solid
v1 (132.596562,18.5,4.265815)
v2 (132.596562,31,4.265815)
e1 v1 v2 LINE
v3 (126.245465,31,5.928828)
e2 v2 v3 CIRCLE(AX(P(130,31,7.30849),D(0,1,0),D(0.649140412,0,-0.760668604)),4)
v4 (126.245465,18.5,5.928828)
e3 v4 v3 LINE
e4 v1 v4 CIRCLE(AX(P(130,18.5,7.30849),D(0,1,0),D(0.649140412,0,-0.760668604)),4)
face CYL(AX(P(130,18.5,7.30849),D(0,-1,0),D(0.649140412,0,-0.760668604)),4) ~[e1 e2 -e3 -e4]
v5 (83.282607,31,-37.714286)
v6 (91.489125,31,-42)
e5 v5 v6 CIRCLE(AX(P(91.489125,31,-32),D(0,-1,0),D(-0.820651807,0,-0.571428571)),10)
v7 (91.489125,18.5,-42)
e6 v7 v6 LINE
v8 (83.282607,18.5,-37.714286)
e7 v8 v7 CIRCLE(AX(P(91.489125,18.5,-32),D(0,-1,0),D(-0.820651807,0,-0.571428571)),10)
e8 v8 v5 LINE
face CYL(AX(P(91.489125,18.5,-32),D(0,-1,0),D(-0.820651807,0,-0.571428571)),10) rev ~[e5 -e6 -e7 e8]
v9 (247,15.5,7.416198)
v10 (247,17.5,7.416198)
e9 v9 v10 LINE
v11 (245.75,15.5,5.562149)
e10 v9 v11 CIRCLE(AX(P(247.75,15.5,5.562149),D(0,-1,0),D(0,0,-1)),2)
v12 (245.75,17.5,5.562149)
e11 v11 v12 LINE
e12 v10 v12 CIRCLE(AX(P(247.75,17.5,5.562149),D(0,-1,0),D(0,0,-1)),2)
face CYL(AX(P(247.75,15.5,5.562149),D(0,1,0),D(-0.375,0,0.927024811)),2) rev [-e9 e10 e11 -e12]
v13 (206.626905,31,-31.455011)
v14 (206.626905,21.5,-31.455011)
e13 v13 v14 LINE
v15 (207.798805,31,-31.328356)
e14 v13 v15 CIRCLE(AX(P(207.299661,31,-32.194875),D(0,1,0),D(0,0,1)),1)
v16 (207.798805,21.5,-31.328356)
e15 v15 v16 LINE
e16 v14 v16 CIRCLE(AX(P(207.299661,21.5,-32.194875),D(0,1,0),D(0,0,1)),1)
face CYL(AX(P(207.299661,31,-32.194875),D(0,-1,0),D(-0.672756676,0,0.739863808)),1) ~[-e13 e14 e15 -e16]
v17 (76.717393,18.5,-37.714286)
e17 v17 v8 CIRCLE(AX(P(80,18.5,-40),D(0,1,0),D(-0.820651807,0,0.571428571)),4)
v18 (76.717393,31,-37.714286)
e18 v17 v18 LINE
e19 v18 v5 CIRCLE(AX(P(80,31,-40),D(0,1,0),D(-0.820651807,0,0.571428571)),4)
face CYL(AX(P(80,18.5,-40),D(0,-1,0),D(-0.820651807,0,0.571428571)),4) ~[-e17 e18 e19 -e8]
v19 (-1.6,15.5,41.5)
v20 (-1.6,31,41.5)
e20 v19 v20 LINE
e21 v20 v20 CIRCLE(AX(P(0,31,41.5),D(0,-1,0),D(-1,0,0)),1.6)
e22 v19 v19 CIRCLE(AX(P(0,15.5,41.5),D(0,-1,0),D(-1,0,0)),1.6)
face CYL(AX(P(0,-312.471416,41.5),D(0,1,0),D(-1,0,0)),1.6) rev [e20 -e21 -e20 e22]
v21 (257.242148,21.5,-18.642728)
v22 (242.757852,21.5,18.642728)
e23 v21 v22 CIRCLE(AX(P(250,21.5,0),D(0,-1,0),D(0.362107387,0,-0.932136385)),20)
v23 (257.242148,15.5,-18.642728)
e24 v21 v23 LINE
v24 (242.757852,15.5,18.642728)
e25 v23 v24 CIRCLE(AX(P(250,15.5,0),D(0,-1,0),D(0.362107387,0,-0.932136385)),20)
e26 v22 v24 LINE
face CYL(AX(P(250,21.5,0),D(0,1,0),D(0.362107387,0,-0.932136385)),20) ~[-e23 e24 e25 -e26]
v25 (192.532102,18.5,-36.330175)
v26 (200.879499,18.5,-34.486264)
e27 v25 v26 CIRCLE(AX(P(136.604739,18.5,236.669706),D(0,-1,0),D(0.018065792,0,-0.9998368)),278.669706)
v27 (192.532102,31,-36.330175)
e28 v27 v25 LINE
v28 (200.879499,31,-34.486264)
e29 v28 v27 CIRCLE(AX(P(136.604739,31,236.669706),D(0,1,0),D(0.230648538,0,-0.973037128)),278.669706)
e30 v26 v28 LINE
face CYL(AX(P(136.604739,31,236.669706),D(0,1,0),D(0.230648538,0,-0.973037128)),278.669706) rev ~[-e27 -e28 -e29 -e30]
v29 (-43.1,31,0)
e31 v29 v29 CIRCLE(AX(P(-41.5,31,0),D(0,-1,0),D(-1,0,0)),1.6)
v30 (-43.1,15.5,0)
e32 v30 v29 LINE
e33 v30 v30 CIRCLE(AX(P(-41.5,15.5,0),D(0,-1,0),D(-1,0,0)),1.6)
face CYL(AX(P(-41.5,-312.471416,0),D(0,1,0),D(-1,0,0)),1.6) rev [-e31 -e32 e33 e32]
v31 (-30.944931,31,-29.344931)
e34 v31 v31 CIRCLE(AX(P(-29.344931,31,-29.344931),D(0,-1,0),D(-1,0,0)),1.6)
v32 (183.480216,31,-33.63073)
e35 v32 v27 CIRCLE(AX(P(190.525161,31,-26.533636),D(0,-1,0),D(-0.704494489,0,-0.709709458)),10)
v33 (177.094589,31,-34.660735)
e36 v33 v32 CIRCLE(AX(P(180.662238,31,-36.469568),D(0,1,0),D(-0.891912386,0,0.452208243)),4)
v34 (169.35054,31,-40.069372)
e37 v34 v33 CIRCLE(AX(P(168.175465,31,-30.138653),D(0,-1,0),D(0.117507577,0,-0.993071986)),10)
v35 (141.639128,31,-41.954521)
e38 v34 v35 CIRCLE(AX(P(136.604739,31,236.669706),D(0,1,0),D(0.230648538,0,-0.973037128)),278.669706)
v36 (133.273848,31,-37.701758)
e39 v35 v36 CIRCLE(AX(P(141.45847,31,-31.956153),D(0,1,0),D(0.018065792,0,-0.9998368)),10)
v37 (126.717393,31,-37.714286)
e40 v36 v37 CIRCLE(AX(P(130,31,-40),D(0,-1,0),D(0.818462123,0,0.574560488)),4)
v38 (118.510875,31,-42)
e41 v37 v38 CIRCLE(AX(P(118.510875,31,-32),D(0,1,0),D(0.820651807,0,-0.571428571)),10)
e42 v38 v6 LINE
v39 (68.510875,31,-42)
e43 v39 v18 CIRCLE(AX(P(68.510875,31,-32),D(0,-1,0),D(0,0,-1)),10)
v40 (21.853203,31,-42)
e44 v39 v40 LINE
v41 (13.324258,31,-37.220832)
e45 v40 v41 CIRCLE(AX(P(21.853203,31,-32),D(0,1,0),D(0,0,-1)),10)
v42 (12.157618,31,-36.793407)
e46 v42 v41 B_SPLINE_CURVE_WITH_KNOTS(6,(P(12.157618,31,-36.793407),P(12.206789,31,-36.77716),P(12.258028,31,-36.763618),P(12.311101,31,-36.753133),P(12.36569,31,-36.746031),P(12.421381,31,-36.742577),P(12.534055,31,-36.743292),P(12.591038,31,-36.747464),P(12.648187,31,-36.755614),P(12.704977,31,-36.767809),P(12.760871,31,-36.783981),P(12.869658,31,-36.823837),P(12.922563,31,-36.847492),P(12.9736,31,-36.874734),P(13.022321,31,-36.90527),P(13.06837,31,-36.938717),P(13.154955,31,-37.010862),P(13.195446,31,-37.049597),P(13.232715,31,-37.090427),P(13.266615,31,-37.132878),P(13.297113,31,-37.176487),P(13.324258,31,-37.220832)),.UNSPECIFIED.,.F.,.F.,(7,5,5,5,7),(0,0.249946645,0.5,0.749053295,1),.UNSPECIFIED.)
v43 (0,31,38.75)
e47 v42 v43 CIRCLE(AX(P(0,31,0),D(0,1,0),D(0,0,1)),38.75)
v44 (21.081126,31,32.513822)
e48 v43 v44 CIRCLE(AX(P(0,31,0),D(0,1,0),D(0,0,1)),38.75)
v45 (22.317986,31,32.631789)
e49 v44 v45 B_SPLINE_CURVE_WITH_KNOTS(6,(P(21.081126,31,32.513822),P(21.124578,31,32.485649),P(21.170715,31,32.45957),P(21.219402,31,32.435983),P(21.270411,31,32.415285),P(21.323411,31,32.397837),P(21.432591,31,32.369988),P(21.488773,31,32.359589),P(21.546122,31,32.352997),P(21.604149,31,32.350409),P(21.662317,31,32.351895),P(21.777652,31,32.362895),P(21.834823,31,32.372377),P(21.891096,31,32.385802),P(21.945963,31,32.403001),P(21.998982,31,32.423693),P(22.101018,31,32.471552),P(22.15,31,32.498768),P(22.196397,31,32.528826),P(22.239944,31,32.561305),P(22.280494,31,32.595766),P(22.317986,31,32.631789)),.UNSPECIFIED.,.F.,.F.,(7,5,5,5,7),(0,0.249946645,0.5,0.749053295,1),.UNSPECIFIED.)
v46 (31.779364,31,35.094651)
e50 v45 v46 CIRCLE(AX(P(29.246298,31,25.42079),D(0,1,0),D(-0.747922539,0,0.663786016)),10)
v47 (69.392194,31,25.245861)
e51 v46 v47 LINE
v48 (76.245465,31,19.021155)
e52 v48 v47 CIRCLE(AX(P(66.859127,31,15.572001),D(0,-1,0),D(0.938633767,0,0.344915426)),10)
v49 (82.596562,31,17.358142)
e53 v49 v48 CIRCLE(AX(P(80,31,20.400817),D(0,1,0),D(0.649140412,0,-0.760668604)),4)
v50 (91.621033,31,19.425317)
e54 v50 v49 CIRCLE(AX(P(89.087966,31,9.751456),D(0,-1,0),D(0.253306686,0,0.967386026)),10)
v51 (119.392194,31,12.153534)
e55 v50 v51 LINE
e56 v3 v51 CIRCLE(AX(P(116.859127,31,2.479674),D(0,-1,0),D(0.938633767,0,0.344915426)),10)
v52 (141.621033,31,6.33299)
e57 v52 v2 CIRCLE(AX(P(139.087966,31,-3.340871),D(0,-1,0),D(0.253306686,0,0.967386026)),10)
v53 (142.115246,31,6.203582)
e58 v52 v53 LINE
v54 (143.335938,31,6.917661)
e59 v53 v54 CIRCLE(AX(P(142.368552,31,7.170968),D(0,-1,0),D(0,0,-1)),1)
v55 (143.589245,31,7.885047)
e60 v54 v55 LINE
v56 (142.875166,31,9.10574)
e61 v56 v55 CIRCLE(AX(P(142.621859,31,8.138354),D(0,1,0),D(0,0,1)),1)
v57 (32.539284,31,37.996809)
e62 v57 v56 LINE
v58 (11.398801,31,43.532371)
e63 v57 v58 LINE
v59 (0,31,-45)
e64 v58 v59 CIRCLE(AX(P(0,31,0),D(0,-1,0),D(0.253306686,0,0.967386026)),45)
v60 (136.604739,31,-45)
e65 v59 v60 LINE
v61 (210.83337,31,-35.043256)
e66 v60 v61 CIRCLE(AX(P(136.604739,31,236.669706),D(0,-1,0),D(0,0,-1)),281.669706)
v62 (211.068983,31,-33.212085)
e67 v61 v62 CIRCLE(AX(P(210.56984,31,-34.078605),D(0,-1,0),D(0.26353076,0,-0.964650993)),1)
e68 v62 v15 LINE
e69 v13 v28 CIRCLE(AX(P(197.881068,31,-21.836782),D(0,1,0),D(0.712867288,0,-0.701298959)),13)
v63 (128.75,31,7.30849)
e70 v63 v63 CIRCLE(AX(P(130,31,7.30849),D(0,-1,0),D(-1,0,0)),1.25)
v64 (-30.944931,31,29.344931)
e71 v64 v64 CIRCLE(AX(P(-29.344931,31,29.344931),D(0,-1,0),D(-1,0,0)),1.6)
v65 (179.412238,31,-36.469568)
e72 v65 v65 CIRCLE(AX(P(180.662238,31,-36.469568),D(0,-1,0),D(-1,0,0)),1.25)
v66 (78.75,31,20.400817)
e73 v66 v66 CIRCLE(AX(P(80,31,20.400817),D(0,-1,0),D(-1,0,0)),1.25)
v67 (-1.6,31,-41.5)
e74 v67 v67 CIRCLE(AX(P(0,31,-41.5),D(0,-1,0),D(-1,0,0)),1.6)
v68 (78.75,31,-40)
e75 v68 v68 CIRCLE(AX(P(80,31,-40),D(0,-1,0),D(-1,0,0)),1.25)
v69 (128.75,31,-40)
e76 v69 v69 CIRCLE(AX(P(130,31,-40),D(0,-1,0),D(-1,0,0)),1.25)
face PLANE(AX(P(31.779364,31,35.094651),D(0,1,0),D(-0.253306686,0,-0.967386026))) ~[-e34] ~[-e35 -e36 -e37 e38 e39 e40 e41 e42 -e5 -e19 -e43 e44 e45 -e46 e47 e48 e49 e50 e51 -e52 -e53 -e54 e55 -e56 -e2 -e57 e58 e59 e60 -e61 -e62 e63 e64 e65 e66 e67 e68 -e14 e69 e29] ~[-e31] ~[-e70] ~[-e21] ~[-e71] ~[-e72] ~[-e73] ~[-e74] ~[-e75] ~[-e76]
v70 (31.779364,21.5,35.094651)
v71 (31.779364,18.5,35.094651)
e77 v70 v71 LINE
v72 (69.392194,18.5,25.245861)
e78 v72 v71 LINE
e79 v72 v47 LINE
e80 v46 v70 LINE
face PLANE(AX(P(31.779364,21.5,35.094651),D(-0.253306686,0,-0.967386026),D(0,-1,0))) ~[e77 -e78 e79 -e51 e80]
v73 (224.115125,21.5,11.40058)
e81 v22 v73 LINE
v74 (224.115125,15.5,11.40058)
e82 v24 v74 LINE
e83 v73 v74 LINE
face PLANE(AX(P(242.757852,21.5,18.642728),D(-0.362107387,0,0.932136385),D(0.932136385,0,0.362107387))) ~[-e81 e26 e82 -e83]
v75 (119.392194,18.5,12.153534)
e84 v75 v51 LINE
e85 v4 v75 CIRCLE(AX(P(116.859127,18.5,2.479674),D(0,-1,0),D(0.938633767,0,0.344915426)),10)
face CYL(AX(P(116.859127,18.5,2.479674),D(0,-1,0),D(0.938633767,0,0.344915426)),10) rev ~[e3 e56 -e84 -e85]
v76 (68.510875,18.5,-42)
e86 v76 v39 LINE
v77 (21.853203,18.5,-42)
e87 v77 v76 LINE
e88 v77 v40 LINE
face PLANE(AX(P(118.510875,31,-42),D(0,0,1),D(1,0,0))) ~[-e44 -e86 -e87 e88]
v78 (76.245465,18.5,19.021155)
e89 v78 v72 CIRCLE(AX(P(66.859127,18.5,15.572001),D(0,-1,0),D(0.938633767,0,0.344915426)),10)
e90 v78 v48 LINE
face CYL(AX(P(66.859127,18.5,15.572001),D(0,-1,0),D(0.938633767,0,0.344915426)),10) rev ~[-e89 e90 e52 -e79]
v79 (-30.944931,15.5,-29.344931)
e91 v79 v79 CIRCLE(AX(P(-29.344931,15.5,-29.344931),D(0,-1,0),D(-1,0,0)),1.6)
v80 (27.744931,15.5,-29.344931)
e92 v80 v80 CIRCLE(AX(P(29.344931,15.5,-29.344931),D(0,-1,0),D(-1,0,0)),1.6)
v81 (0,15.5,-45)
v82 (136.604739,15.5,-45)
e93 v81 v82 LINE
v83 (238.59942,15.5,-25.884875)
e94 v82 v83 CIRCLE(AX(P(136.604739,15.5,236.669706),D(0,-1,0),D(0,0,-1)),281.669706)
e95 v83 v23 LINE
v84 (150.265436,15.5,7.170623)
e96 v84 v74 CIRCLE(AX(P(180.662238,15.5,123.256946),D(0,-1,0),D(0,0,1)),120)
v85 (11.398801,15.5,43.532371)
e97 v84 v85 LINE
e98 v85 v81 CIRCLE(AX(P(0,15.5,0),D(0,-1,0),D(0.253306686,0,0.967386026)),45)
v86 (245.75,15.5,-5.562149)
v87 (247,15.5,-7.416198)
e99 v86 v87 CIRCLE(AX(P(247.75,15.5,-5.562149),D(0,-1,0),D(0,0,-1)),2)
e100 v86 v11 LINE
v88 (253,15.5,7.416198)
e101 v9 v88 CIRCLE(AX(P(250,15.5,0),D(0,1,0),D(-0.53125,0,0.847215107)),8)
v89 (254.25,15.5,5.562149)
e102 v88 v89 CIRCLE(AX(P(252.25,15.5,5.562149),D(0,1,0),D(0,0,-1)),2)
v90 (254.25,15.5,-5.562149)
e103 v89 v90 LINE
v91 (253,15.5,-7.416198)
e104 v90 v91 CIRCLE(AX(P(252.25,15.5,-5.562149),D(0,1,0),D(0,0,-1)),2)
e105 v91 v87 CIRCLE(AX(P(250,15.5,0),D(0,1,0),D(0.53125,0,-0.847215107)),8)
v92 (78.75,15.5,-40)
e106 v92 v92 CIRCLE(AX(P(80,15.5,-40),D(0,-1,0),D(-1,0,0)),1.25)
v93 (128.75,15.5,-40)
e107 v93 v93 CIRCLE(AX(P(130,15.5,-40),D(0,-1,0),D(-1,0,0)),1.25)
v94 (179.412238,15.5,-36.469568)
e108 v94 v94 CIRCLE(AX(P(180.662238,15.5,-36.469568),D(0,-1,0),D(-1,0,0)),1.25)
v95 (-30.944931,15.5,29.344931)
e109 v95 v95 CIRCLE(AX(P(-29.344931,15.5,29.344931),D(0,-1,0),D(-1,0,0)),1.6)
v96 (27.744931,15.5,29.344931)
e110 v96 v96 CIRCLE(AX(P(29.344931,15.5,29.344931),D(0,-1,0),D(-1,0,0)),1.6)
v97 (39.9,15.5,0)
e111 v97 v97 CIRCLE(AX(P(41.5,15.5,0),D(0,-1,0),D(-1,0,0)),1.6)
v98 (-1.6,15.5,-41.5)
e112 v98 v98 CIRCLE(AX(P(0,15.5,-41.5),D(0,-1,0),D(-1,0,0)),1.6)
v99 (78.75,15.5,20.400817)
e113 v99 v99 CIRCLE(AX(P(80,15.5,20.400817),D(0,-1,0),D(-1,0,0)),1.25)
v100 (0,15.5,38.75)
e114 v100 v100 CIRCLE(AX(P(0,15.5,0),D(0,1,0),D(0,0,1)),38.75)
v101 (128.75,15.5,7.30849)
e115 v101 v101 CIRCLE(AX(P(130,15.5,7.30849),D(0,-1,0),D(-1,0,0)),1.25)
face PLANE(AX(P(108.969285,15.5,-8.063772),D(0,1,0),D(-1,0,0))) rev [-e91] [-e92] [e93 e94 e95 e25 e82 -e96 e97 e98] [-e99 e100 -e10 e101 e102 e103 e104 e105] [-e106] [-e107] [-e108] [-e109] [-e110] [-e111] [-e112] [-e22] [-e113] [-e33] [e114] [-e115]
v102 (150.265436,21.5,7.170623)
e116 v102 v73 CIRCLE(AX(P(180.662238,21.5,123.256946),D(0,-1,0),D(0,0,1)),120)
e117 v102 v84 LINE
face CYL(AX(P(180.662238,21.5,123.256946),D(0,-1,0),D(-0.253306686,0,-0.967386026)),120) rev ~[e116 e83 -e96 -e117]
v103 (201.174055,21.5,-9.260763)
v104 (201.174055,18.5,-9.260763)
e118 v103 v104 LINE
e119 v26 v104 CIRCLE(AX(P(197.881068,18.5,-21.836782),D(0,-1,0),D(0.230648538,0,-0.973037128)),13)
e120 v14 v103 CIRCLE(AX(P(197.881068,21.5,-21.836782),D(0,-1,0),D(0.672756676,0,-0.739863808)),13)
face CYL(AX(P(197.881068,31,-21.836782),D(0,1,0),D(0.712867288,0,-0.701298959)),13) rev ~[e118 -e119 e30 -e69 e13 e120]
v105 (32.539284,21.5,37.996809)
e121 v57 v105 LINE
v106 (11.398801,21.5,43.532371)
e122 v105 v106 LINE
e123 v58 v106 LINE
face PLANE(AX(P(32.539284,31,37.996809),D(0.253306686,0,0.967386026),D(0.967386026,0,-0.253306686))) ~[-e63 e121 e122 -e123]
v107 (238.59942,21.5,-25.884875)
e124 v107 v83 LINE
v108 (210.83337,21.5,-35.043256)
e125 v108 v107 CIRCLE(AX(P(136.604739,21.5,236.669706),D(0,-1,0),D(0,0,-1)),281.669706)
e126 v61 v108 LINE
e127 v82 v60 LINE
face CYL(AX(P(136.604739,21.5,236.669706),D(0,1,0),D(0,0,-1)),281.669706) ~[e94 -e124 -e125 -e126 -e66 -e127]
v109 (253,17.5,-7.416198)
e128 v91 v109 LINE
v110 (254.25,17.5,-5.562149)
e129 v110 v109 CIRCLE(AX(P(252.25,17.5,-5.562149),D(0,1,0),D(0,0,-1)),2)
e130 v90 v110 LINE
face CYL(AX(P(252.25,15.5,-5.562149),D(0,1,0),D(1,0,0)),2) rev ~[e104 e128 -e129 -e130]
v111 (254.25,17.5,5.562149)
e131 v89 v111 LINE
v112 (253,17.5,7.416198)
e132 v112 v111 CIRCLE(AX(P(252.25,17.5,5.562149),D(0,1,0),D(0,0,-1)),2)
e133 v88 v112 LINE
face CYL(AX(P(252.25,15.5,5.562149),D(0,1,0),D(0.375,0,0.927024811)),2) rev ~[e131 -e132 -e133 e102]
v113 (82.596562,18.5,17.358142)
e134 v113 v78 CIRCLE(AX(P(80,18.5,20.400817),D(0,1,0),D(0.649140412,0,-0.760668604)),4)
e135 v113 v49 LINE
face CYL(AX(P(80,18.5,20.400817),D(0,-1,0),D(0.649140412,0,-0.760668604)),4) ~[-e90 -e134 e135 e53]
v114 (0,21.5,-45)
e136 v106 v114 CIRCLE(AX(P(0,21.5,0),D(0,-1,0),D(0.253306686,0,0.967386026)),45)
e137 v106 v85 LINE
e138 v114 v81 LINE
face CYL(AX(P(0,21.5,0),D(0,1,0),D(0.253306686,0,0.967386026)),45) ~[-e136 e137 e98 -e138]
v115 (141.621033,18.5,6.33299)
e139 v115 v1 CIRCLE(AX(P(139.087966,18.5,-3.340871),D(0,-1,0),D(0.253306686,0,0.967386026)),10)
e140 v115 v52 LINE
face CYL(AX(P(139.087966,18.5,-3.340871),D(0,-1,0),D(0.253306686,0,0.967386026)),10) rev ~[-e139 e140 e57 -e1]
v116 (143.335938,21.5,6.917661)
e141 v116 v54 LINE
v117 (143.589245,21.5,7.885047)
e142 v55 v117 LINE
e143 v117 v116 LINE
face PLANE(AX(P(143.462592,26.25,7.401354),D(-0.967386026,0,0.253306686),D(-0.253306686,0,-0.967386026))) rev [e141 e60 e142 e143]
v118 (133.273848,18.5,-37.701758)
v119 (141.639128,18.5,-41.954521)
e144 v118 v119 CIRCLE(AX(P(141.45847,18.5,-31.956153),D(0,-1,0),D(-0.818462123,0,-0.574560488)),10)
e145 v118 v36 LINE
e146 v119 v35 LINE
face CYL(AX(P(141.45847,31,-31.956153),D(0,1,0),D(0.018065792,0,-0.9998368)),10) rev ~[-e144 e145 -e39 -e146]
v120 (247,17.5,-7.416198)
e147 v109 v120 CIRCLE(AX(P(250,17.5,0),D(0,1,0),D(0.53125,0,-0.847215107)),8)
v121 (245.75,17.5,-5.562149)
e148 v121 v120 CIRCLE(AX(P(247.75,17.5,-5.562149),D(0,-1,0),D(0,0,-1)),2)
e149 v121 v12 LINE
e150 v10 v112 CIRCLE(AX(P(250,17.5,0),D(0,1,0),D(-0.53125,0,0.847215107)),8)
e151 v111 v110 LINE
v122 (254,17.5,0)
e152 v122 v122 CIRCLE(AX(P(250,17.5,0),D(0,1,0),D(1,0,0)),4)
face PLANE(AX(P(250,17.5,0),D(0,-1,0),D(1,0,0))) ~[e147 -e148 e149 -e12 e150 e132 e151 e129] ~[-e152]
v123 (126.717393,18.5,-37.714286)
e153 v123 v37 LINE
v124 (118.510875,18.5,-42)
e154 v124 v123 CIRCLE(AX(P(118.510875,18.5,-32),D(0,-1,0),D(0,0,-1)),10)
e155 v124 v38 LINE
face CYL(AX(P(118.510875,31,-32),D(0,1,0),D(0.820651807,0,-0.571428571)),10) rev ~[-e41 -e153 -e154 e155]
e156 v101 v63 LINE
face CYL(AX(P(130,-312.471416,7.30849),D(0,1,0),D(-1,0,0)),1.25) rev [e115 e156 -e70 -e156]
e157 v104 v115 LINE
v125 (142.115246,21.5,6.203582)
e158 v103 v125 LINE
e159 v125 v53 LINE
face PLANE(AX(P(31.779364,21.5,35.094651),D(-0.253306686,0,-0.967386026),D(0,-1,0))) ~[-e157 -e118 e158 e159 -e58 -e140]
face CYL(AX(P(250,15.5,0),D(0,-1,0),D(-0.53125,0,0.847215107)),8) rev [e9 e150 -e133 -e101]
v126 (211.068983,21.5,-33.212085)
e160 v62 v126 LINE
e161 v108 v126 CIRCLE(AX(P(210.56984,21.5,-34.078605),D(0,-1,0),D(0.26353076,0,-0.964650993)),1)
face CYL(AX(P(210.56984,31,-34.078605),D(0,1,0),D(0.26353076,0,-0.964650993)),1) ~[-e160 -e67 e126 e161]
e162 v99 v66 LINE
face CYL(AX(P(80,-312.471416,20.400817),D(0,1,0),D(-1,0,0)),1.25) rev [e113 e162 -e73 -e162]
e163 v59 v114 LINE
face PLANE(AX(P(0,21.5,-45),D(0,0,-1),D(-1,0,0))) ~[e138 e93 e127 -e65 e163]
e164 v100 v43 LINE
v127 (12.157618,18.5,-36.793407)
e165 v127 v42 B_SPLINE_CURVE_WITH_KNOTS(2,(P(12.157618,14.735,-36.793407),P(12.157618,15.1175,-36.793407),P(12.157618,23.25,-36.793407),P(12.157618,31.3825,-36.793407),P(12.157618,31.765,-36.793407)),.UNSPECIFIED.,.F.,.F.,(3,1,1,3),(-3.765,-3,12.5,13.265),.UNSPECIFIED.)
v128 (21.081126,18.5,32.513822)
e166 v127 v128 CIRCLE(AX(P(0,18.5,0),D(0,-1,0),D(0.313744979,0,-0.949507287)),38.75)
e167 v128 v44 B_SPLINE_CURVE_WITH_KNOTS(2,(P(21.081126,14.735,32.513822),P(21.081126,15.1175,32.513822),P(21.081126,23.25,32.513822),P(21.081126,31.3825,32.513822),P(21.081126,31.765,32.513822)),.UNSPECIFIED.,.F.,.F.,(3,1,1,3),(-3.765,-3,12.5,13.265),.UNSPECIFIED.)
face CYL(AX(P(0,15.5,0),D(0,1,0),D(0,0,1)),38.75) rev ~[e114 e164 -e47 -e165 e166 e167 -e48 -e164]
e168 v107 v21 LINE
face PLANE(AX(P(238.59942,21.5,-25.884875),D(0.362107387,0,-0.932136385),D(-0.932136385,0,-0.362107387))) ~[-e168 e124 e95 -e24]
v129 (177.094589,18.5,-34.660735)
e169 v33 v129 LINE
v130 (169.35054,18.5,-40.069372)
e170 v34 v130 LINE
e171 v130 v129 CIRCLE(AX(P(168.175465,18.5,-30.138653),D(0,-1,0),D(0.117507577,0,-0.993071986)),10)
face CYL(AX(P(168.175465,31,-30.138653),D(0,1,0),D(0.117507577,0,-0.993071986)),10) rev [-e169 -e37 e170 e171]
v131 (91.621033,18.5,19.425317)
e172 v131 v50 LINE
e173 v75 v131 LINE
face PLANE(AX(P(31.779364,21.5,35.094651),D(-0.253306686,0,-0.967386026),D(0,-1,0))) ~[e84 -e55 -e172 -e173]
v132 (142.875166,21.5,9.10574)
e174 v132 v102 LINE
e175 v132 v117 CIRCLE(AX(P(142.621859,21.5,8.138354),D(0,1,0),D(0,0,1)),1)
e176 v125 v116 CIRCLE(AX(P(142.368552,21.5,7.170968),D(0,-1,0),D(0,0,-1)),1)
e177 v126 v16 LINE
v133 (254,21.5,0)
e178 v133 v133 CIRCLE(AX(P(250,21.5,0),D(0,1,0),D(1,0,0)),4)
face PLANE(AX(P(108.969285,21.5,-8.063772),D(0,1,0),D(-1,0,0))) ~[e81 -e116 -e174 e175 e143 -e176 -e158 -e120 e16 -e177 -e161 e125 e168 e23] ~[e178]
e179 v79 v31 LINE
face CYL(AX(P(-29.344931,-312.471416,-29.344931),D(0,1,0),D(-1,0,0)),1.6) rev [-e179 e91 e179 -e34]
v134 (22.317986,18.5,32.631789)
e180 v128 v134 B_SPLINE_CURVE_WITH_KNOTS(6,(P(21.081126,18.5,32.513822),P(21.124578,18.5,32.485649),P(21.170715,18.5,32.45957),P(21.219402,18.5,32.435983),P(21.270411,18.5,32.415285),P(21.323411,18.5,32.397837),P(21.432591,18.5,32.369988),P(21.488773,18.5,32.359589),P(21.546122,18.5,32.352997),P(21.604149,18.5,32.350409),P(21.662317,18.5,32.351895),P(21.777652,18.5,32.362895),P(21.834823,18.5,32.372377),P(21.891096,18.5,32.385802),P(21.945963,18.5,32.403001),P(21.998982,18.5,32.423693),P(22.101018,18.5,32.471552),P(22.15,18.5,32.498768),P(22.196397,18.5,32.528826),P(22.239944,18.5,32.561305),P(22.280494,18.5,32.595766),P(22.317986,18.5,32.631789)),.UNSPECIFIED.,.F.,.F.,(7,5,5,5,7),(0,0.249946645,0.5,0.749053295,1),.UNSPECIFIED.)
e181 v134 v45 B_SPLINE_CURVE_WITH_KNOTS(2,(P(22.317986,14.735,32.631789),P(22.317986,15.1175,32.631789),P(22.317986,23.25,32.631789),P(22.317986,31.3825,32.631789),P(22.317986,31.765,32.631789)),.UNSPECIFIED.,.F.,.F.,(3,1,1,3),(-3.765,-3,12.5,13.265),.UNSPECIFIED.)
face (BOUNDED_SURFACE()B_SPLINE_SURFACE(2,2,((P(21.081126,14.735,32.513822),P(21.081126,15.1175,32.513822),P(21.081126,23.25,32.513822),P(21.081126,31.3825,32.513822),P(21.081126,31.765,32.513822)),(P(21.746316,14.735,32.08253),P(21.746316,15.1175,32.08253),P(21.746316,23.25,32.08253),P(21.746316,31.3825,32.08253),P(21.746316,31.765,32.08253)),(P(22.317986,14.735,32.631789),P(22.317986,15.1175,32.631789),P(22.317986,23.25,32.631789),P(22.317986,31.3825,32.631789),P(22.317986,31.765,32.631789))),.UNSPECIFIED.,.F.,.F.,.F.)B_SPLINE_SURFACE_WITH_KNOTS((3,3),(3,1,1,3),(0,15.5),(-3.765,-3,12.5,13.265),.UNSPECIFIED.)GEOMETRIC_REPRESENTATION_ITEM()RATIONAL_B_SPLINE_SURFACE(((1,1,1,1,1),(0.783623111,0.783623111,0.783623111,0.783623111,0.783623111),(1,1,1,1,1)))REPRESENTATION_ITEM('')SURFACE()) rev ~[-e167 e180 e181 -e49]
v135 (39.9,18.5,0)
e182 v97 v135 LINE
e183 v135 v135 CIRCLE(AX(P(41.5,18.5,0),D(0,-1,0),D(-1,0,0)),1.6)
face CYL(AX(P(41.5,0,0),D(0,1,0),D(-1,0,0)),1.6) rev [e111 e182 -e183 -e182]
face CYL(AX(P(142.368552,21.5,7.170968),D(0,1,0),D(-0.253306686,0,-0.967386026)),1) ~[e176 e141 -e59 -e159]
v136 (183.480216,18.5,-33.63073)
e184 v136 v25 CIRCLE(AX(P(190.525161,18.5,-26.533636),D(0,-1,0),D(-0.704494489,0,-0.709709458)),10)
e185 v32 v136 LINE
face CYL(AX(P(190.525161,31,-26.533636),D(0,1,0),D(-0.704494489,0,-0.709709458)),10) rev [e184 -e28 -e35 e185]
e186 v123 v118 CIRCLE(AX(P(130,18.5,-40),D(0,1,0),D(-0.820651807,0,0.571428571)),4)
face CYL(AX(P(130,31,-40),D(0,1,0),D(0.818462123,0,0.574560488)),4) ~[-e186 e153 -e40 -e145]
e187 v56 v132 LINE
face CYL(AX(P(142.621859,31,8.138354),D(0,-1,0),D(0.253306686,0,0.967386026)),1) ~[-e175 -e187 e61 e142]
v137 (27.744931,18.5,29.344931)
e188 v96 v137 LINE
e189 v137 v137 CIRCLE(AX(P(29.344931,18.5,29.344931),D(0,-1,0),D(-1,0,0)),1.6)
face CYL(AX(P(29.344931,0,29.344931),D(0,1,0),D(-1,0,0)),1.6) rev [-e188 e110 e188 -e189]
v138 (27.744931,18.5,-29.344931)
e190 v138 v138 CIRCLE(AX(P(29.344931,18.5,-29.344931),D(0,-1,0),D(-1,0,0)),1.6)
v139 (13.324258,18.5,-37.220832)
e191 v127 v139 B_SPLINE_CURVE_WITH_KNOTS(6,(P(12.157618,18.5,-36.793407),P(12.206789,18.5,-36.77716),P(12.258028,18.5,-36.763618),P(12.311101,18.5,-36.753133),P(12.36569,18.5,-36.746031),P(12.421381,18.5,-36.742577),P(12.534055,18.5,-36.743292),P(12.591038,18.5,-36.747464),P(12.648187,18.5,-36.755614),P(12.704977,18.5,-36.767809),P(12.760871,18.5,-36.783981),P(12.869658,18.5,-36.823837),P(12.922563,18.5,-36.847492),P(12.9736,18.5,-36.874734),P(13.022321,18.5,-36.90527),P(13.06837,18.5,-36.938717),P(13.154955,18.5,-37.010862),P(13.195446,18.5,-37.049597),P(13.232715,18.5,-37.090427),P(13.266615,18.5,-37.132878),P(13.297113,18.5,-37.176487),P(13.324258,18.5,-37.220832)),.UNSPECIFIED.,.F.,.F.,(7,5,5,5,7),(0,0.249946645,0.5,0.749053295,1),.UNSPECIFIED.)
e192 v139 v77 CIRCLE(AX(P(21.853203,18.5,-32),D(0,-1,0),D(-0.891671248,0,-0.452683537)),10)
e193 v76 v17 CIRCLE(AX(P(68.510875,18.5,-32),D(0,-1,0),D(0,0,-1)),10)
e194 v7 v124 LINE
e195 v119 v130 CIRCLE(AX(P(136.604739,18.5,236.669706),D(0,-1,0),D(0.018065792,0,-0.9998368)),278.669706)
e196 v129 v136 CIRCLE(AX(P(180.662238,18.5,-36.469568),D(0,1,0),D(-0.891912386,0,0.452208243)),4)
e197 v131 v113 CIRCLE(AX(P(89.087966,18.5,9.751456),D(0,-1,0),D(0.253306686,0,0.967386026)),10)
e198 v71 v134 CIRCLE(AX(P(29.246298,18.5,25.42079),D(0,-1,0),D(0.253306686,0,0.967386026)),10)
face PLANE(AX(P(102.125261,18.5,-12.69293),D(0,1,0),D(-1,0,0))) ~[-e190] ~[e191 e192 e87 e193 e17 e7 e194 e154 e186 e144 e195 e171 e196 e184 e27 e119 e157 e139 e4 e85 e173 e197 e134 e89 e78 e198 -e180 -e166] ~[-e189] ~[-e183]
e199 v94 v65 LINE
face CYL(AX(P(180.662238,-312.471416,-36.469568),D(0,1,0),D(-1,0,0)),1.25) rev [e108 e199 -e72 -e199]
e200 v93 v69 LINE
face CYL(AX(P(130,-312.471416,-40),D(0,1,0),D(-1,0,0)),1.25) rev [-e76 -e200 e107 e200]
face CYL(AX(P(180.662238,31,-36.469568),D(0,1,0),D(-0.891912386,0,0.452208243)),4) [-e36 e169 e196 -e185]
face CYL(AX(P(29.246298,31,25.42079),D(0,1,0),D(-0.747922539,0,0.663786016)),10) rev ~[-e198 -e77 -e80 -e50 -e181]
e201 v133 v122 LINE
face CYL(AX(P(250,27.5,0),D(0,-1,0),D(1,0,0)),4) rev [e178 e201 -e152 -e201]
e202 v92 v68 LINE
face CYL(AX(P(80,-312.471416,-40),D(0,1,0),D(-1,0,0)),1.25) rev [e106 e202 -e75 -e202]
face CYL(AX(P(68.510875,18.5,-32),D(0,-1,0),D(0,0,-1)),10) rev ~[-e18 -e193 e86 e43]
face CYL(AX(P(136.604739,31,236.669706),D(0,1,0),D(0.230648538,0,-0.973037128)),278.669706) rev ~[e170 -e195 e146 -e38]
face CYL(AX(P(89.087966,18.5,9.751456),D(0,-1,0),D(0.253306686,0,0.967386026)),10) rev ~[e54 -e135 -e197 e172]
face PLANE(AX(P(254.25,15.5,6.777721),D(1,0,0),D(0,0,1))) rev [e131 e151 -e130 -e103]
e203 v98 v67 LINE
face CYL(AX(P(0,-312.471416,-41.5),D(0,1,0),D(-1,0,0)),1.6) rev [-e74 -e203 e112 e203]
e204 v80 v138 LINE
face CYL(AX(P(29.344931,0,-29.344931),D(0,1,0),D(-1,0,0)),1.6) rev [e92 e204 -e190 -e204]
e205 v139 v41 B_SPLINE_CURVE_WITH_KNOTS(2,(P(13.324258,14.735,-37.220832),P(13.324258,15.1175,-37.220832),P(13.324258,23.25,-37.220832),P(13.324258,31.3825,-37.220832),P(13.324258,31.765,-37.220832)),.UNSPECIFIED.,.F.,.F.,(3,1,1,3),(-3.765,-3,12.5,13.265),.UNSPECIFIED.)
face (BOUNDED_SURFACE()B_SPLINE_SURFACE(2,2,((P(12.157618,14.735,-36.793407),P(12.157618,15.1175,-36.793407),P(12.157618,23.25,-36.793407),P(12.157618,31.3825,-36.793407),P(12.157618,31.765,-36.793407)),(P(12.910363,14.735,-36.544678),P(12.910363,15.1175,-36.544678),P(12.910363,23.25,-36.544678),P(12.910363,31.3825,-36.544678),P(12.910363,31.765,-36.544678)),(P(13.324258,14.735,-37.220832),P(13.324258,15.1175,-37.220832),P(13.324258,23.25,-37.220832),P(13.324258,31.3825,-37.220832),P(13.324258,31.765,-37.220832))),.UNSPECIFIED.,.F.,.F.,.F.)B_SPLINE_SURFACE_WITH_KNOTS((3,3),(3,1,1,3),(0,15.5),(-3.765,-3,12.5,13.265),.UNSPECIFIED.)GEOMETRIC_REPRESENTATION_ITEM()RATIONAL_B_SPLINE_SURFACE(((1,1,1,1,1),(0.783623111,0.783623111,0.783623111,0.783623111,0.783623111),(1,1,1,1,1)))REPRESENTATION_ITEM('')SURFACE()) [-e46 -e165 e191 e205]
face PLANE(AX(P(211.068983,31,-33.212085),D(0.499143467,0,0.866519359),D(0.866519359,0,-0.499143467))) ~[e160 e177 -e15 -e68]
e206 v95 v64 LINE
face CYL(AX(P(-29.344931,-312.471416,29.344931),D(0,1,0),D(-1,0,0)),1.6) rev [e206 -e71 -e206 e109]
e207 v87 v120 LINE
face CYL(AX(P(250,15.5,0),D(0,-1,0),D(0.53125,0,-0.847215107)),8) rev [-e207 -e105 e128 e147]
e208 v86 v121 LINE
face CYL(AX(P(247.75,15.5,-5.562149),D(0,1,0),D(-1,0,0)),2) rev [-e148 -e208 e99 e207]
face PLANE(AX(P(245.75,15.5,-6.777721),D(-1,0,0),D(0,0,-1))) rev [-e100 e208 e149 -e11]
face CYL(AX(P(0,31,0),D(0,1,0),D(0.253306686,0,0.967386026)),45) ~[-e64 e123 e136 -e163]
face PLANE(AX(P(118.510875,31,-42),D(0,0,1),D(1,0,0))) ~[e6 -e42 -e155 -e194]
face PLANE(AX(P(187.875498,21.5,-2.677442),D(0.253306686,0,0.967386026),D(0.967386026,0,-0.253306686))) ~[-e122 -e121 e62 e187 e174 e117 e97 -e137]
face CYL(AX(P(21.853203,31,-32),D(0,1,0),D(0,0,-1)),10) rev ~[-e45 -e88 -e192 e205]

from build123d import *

# Parameters (mm, degrees)
EXTRUDE_1_DEPTH             = 9.500000000000002
EXTRUDE_2_DEPTH             = 115.05569061587602
EXTRUDE_3_DEPTH             = 5.999999999999999
CUT_EXTRUDE_1_DEPTH         = 3.000000000000001
EXTRUDE_4_DEPTH             = 12.5
EXTRUDE_5_DEPTH             = 12.5
EXTRUDE_START               = 12.5
EXTRUDE_6_DEPTH             = 12.5
EXTRUDE_7_DEPTH             = 12.5
CUT_EXTRUDE_2_DEPTH         = 2
HOLE_WIZARD_8_0_8_1_D       = 8
HOLE_WIZARD_8_0_8_1_DEPTH   = 6
HOLE_WIZARD_2_5_2_5_1_D     = 2.5
HOLE_WIZARD_3_2_3_2_1_D     = 3.2
HOLE_WIZARD_3_2_3_2_1_DEPTH = 15.5
HOLE_WIZARD_3_2_3_2_2_D     = 3.2
FILLET_1_R                  = 1
FILLET_2_R                  = 2
FILLET_3_R                  = 120.00000000000003


with BuildPart() as part:
    # Эскиз1 → Бобышка-Вытянуть1 (new body)
    with BuildSketch(Plane.XZ):
        with BuildLine():
            Line((31.779364408196322, 35.09465055833703), (32.53928446481828, 37.996808635931096))
            Line((32.53928446481828, 37.996808635931096), (11.398800849455474, 43.53237116439277))
            ThreePointArc((11.398800849455474, 43.53237116439277), (-44.6315846816897, 5.746446623885336), (0, -45))
            Line((0, -45), (136.6047385645944, -45))
            ThreePointArc((136.6047385645944, -45), (174.0514558866368, -42.49971682694584), (210.833370462018, -35.04325558103525))
            ThreePointArc((210.833370462018, -35.04325558103525), (211.56166337980483, -34.20622038377409), (211.068983168903, -33.2120852293116))
            Line((211.068983168903, -33.2120852293116), (207.14834257891937, -30.95366812818016))
            ThreePointArc((207.14834257891937, -30.95366812818016), (204.26320644859996, -33.162341546064276), (200.87949883001698, -34.4862643192222))
            ThreePointArc((200.87949883001698, -34.4862643192222), (171.45991408687433, -39.811616665453215), (141.6391276395998, -41.95452117487615))
            ThreePointArc((141.6391276395998, -41.95452117487615), (136.9266537788762, -40.870335373727656), (133.2738484900434, -37.7017580492345))
            ThreePointArc((133.2738484900434, -37.7017580492345), (129.99235706441334, -36.0000073018108), (126.71739277340599, -37.7142857142829))
            ThreePointArc((126.71739277340599, -37.7142857142829), (123.13997520578543, -40.86405260427835), (118.5108747069212, -42))
            Line((118.5108747069212, -42), (21.853203426500148, -42))
            ThreePointArc((21.853203426500148, -42), (16.621968089397427, -40.52256867662841), (12.936490941687484, -36.52683536956956))
            ThreePointArc((12.936490941687484, -36.52683536956956), (38.432753475903155, -4.948329037205795), (21.767072161661147, 32.05865046300353))
            ThreePointArc((21.767072161661147, 32.05865046300353), (26.34449721336863, 34.99051102645374), (31.779364408196322, 35.09465055833703))
        make_face()
    extrude(amount=-EXTRUDE_1_DEPTH)

    # Эскиз2 → Бобышка-Вытянуть2 (add)
    with BuildSketch(Plane(origin=(21.140483615362722, 0, -5.535562528461676), x_dir=(-0.2533066855420127, 0, -0.967386025875772), z_dir=(0.9673860258757722, 0, -0.2533066855420127))):
        Polygon((-42.00000000000173, 0), (-45.000000000001705, -8.7e-16), (-45.000000000001705, 9.5), (-42.00000000000173, 9.5), align=None)
    extrude(amount=EXTRUDE_2_DEPTH)

    # Эскиз3 → Бобышка-Вытянуть3 (add)
    with BuildSketch(Plane(origin=(0, 9.500000000000002, 0), x_dir=(-1, 0, 0), z_dir=(0, 1, 0))):
        with BuildLine():
            Line((0, -45), (-136.6047385645944, -45))
            ThreePointArc((-136.6047385645944, -45), (-188.48995572376379, -40.179977983128), (-238.599420052963, -25.88487544631455))
            Line((-238.599420052963, -25.88487544631455), (-257.242147749639, -18.6427276966758))
            ThreePointArc((-257.242147749639, -18.6427276966758), (-268.6427276966758, 7.242147749639007), (-242.757852250361, 18.6427276966758))
            Line((-242.757852250361, 18.6427276966758), (-187.87549846851005, -2.677441830178293))
            Line((-187.87549846851005, -2.677441830178293), (-11.398800849390101, 43.53237116440985))
            ThreePointArc((-11.398800849390101, 43.53237116440985), (44.63158468169398, 5.74644662385182), (0, -45))
        make_face()
    extrude(amount=EXTRUDE_3_DEPTH)

    # Эскиз4 → Вырез-Вытянуть1 (cut)
    with BuildSketch(Plane.XZ.offset(-9.500000000000002)):
        with BuildLine():
            Line((201.174054751897, -9.26076332158908), (31.779364408181, 35.094650558340646))
            ThreePointArc((31.779364408181, 35.094650558340646), (26.344497213361088, 34.99051102645149), (21.767072161661147, 32.05865046300353))
            ThreePointArc((21.767072161661147, 32.05865046300353), (38.432753475903155, -4.9483290372057915), (12.936490941687483, -36.526835369569554))
            ThreePointArc((12.936490941687483, -36.526835369569554), (16.621968089397427, -40.52256867662841), (21.853203426500148, -42))
            Line((21.853203426500148, -42), (118.5108747069212, -42))
            ThreePointArc((118.5108747069212, -42), (123.13997520578546, -40.8640526042784), (126.71739277340599, -37.7142857142829))
            ThreePointArc((126.71739277340599, -37.7142857142829), (129.99235706441334, -36.00000730181071), (133.2738484900434, -37.7017580492345))
            ThreePointArc((133.2738484900434, -37.7017580492345), (136.92665377887585, -40.870335373728324), (141.6391276395998, -41.95452117487615))
            ThreePointArc((141.6391276395998, -41.95452117487615), (171.4599140868743, -39.8116166654531), (200.87949883001698, -34.4862643192222))
            ThreePointArc((200.87949883001698, -34.4862643192222), (210.88018165389494, -21.98857114883415), (201.174054751897, -9.26076332158908))
        make_face()
    extrude(amount=-CUT_EXTRUDE_1_DEPTH, mode=Mode.SUBTRACT)

    # Эскиз5 → Бобышка-Вытянуть4 (add)
    with BuildSketch(Plane.XZ.offset(-12.500000000000002)):
        with BuildLine():
            Line((69.39219411302629, 25.245861169673617), (91.62103262914168, 19.425316674141865))
            ThreePointArc((91.62103262914168, 19.425316674141865), (86.85516242440718, 19.49899914179931), (82.59656164963481, 17.358142454506996))
            ThreePointArc((82.59656164963481, 17.358142454506996), (78.98677325783201, 16.531272766653025), (76.24546493074466, 19.02115516751604))
            ThreePointArc((76.24546493074466, 19.02115516751604), (73.58257817824061, 22.974379428515537), (69.39219411302629, 25.245861169673617))
        make_face()
    extrude(amount=EXTRUDE_4_DEPTH)

    # Эскиз6 → Бобышка-Вытянуть5 (add)
    with BuildSketch(Plane.XZ.offset(-12.500000000000002)):
        with BuildLine():
            Line((119.39219411302322, 12.153534075498996), (141.6210326291386, 6.332989579967239))
            ThreePointArc((141.6210326291386, 6.332989579967239), (136.8551624244041, 6.406672047624693), (132.59656164963178, 4.26581536033236))
            ThreePointArc((132.59656164963178, 4.26581536033236), (128.986773257829, 3.438945672478428), (126.24546493074165, 5.928828073341451))
            ThreePointArc((126.24546493074165, 5.928828073341451), (123.58257817823758, 9.882052334340969), (119.39219411302322, 12.153534075498996))
        make_face()
    extrude(amount=EXTRUDE_5_DEPTH)

    # Эскиз7 → Бобышка-Вытянуть6 (add)
    with BuildSketch(Plane.XZ.offset(-12.500000000000002).offset(EXTRUDE_START)):
        with BuildLine():
            ThreePointArc((169.350540410565, -40.06937238400199), (173.90141926099287, -38.33703307937142), (177.09458850993005, -34.660734951460455))
            ThreePointArc((177.09458850993005, -34.660734951460455), (180.02526915777943, -32.52060975329769), (183.4802160115175, -33.63073008971875))
            ThreePointArc((183.4802160115175, -33.63073008971875), (187.66734322037206, -36.11658276325075), (192.5321018049815, -36.33017511120823))
            ThreePointArc((192.5321018049815, -36.33017511120823), (180.98072250488946, -38.44404700724877), (169.350540410565, -40.06937238400199))
        make_face()
    extrude(amount=-EXTRUDE_6_DEPTH)

    # Эскиз8 → Бобышка-Вытянуть7 (add)
    with BuildSketch(Plane.XZ.offset(-12.500000000000002)):
        with BuildLine():
            Line((91.489125293076, -42), (68.510874706924, -42))
            ThreePointArc((68.510874706924, -42), (73.13997520578674, -40.86405260427919), (76.71739277340684, -37.714285714285715))
            ThreePointArc((76.71739277340684, -37.714285714285715), (80.00000000000003, -36), (83.2826072265932, -37.714285714285765))
            ThreePointArc((83.2826072265932, -37.714285714285765), (86.86002479421332, -40.86405260427916), (91.489125293076, -42))
        make_face()
    extrude(amount=EXTRUDE_7_DEPTH)

    # Эскиз9 → Вырез-Вытянуть2 (cut)
    with BuildSketch(Plane(origin=(0, 15.5, 0), x_dir=(-1, 0, 0), z_dir=(0, 1, 0))):
        with BuildLine():
            Line((-245.75, -6.777720855862977), (-245.75, 6.777720855862977))
            ThreePointArc((-245.75, 6.777720855862977), (-249.99999999999997, 7.999999999999998), (-254.24999999999997, 6.777720855862994))
            Line((-254.24999999999997, 6.777720855862994), (-254.24999999999997, -6.777720855862994))
            ThreePointArc((-254.24999999999997, -6.777720855862994), (-249.99999999999997, -7.999999999999997), (-245.75, -6.777720855862977))
        make_face()
    extrude(amount=-CUT_EXTRUDE_2_DEPTH, mode=Mode.SUBTRACT)

    # Эскиз10 → Вырез-Повернуть1 (revolve, cut)
    with BuildSketch(Plane(origin=(0, 0, 0), x_dir=(-1, 0, 0), z_dir=(0, 0, -1)), mode=Mode.PRIVATE) as cut_revolve_1_sk:
        Polygon((-38.75000000000001, 0), (0, 0), (0, 15.5), (-38.75, 15.5), align=None)
    revolve(cut_revolve_1_sk.sketch.rotate(Axis((0, 0, 0), (0, 1, 0)), 270), axis=Axis((0, 0, 0), (0, 1, 0)), mode=Mode.SUBTRACT)

    # Диаметр отверстия Ø8.0 (8)1
    with Locations(Plane(origin=(0, 9.500000000000002, 0), x_dir=(-1, 0, 0), z_dir=(0, -1, 0))):
        with Locations((-250, 0)):
            Hole(HOLE_WIZARD_8_0_8_1_D / 2, depth=HOLE_WIZARD_8_0_8_1_DEPTH)

    # Диаметр отверстия Ø2.5 (2.5)1 (through all)
    with Locations(Plane(origin=(0, 15.5, 0), x_dir=(1, 0, 0), z_dir=(0, 1, 0))):
        with Locations((130, -7.308489776), (130, 40), (80, -20.40081687), (180.662238056, 36.469567923), (80, 40)):
            Hole(HOLE_WIZARD_2_5_2_5_1_D / 2)

    # Диаметр отверстия Ø3.2 (3.2)1
    with Locations(Plane(origin=(0, 15.5, 0), x_dir=(1, 0, 0), z_dir=(0, 1, 0))):
        with Locations((29.344931419, 29.344931419), (41.5, 0), (29.344931419, -29.344931419)):
            Hole(HOLE_WIZARD_3_2_3_2_1_D / 2, depth=HOLE_WIZARD_3_2_3_2_1_DEPTH)

    # Диаметр отверстия Ø3.2 (3.2)2 (through all)
    with Locations(Plane(origin=(0, 15.5, 0), x_dir=(1, 0, 0), z_dir=(0, 1, 0))):
        with Locations((-29.344931419, 29.344931419), (0, 41.5), (0, -41.5), (-29.344931419, -29.344931419), (-41.5, 0)):
            Hole(HOLE_WIZARD_3_2_3_2_2_D / 2)

    # Скругление1
    fillet_1_edges = [part.edges().sort_by_distance(p)[0] for p in [
        (21.767072161661147, 6.250000000000002, 32.05865046300353),
        (12.936490941687481, 6.250000000000002, -36.526835369569554),
        (207.14834257891937, 4.750000000000001, -30.953668128180162),
        (143.08263170741236, 4.75, 5.95027491566762),
        (143.84255176403838, 4.749999999999999, 8.852432993294912),
    ]]
    fillet(fillet_1_edges, radius=FILLET_1_R)

    # Скругление2
    fillet_2_edges = [part.edges().sort_by_distance(p)[0] for p in [
        (245.75, 14.5, -6.777720855862977),
        (254.24999999999997, 14.5, -6.777720855862994),
        (254.24999999999997, 14.5, 6.777720855862995),
        (245.75, 14.5, 6.7777208558629765),
    ]]
    fillet(fillet_2_edges, radius=FILLET_2_R)

    # Скругление3
    fillet_3_edges = [part.edges().sort_by_distance(p)[0] for p in [
        (187.87549846851005, 12.500000000000002, -2.677441830178293),
    ]]
    fillet(fillet_3_edges, radius=FILLET_3_R)


with BuildPart() as body_2:
    # Зеркальное отражение1: mirrored copy
    add(part.part.mirror(Plane(origin=(0, 15.5, 0), x_dir=(0, 0, 1), z_dir=(0, -1, 0))))


solid = body_2.part
